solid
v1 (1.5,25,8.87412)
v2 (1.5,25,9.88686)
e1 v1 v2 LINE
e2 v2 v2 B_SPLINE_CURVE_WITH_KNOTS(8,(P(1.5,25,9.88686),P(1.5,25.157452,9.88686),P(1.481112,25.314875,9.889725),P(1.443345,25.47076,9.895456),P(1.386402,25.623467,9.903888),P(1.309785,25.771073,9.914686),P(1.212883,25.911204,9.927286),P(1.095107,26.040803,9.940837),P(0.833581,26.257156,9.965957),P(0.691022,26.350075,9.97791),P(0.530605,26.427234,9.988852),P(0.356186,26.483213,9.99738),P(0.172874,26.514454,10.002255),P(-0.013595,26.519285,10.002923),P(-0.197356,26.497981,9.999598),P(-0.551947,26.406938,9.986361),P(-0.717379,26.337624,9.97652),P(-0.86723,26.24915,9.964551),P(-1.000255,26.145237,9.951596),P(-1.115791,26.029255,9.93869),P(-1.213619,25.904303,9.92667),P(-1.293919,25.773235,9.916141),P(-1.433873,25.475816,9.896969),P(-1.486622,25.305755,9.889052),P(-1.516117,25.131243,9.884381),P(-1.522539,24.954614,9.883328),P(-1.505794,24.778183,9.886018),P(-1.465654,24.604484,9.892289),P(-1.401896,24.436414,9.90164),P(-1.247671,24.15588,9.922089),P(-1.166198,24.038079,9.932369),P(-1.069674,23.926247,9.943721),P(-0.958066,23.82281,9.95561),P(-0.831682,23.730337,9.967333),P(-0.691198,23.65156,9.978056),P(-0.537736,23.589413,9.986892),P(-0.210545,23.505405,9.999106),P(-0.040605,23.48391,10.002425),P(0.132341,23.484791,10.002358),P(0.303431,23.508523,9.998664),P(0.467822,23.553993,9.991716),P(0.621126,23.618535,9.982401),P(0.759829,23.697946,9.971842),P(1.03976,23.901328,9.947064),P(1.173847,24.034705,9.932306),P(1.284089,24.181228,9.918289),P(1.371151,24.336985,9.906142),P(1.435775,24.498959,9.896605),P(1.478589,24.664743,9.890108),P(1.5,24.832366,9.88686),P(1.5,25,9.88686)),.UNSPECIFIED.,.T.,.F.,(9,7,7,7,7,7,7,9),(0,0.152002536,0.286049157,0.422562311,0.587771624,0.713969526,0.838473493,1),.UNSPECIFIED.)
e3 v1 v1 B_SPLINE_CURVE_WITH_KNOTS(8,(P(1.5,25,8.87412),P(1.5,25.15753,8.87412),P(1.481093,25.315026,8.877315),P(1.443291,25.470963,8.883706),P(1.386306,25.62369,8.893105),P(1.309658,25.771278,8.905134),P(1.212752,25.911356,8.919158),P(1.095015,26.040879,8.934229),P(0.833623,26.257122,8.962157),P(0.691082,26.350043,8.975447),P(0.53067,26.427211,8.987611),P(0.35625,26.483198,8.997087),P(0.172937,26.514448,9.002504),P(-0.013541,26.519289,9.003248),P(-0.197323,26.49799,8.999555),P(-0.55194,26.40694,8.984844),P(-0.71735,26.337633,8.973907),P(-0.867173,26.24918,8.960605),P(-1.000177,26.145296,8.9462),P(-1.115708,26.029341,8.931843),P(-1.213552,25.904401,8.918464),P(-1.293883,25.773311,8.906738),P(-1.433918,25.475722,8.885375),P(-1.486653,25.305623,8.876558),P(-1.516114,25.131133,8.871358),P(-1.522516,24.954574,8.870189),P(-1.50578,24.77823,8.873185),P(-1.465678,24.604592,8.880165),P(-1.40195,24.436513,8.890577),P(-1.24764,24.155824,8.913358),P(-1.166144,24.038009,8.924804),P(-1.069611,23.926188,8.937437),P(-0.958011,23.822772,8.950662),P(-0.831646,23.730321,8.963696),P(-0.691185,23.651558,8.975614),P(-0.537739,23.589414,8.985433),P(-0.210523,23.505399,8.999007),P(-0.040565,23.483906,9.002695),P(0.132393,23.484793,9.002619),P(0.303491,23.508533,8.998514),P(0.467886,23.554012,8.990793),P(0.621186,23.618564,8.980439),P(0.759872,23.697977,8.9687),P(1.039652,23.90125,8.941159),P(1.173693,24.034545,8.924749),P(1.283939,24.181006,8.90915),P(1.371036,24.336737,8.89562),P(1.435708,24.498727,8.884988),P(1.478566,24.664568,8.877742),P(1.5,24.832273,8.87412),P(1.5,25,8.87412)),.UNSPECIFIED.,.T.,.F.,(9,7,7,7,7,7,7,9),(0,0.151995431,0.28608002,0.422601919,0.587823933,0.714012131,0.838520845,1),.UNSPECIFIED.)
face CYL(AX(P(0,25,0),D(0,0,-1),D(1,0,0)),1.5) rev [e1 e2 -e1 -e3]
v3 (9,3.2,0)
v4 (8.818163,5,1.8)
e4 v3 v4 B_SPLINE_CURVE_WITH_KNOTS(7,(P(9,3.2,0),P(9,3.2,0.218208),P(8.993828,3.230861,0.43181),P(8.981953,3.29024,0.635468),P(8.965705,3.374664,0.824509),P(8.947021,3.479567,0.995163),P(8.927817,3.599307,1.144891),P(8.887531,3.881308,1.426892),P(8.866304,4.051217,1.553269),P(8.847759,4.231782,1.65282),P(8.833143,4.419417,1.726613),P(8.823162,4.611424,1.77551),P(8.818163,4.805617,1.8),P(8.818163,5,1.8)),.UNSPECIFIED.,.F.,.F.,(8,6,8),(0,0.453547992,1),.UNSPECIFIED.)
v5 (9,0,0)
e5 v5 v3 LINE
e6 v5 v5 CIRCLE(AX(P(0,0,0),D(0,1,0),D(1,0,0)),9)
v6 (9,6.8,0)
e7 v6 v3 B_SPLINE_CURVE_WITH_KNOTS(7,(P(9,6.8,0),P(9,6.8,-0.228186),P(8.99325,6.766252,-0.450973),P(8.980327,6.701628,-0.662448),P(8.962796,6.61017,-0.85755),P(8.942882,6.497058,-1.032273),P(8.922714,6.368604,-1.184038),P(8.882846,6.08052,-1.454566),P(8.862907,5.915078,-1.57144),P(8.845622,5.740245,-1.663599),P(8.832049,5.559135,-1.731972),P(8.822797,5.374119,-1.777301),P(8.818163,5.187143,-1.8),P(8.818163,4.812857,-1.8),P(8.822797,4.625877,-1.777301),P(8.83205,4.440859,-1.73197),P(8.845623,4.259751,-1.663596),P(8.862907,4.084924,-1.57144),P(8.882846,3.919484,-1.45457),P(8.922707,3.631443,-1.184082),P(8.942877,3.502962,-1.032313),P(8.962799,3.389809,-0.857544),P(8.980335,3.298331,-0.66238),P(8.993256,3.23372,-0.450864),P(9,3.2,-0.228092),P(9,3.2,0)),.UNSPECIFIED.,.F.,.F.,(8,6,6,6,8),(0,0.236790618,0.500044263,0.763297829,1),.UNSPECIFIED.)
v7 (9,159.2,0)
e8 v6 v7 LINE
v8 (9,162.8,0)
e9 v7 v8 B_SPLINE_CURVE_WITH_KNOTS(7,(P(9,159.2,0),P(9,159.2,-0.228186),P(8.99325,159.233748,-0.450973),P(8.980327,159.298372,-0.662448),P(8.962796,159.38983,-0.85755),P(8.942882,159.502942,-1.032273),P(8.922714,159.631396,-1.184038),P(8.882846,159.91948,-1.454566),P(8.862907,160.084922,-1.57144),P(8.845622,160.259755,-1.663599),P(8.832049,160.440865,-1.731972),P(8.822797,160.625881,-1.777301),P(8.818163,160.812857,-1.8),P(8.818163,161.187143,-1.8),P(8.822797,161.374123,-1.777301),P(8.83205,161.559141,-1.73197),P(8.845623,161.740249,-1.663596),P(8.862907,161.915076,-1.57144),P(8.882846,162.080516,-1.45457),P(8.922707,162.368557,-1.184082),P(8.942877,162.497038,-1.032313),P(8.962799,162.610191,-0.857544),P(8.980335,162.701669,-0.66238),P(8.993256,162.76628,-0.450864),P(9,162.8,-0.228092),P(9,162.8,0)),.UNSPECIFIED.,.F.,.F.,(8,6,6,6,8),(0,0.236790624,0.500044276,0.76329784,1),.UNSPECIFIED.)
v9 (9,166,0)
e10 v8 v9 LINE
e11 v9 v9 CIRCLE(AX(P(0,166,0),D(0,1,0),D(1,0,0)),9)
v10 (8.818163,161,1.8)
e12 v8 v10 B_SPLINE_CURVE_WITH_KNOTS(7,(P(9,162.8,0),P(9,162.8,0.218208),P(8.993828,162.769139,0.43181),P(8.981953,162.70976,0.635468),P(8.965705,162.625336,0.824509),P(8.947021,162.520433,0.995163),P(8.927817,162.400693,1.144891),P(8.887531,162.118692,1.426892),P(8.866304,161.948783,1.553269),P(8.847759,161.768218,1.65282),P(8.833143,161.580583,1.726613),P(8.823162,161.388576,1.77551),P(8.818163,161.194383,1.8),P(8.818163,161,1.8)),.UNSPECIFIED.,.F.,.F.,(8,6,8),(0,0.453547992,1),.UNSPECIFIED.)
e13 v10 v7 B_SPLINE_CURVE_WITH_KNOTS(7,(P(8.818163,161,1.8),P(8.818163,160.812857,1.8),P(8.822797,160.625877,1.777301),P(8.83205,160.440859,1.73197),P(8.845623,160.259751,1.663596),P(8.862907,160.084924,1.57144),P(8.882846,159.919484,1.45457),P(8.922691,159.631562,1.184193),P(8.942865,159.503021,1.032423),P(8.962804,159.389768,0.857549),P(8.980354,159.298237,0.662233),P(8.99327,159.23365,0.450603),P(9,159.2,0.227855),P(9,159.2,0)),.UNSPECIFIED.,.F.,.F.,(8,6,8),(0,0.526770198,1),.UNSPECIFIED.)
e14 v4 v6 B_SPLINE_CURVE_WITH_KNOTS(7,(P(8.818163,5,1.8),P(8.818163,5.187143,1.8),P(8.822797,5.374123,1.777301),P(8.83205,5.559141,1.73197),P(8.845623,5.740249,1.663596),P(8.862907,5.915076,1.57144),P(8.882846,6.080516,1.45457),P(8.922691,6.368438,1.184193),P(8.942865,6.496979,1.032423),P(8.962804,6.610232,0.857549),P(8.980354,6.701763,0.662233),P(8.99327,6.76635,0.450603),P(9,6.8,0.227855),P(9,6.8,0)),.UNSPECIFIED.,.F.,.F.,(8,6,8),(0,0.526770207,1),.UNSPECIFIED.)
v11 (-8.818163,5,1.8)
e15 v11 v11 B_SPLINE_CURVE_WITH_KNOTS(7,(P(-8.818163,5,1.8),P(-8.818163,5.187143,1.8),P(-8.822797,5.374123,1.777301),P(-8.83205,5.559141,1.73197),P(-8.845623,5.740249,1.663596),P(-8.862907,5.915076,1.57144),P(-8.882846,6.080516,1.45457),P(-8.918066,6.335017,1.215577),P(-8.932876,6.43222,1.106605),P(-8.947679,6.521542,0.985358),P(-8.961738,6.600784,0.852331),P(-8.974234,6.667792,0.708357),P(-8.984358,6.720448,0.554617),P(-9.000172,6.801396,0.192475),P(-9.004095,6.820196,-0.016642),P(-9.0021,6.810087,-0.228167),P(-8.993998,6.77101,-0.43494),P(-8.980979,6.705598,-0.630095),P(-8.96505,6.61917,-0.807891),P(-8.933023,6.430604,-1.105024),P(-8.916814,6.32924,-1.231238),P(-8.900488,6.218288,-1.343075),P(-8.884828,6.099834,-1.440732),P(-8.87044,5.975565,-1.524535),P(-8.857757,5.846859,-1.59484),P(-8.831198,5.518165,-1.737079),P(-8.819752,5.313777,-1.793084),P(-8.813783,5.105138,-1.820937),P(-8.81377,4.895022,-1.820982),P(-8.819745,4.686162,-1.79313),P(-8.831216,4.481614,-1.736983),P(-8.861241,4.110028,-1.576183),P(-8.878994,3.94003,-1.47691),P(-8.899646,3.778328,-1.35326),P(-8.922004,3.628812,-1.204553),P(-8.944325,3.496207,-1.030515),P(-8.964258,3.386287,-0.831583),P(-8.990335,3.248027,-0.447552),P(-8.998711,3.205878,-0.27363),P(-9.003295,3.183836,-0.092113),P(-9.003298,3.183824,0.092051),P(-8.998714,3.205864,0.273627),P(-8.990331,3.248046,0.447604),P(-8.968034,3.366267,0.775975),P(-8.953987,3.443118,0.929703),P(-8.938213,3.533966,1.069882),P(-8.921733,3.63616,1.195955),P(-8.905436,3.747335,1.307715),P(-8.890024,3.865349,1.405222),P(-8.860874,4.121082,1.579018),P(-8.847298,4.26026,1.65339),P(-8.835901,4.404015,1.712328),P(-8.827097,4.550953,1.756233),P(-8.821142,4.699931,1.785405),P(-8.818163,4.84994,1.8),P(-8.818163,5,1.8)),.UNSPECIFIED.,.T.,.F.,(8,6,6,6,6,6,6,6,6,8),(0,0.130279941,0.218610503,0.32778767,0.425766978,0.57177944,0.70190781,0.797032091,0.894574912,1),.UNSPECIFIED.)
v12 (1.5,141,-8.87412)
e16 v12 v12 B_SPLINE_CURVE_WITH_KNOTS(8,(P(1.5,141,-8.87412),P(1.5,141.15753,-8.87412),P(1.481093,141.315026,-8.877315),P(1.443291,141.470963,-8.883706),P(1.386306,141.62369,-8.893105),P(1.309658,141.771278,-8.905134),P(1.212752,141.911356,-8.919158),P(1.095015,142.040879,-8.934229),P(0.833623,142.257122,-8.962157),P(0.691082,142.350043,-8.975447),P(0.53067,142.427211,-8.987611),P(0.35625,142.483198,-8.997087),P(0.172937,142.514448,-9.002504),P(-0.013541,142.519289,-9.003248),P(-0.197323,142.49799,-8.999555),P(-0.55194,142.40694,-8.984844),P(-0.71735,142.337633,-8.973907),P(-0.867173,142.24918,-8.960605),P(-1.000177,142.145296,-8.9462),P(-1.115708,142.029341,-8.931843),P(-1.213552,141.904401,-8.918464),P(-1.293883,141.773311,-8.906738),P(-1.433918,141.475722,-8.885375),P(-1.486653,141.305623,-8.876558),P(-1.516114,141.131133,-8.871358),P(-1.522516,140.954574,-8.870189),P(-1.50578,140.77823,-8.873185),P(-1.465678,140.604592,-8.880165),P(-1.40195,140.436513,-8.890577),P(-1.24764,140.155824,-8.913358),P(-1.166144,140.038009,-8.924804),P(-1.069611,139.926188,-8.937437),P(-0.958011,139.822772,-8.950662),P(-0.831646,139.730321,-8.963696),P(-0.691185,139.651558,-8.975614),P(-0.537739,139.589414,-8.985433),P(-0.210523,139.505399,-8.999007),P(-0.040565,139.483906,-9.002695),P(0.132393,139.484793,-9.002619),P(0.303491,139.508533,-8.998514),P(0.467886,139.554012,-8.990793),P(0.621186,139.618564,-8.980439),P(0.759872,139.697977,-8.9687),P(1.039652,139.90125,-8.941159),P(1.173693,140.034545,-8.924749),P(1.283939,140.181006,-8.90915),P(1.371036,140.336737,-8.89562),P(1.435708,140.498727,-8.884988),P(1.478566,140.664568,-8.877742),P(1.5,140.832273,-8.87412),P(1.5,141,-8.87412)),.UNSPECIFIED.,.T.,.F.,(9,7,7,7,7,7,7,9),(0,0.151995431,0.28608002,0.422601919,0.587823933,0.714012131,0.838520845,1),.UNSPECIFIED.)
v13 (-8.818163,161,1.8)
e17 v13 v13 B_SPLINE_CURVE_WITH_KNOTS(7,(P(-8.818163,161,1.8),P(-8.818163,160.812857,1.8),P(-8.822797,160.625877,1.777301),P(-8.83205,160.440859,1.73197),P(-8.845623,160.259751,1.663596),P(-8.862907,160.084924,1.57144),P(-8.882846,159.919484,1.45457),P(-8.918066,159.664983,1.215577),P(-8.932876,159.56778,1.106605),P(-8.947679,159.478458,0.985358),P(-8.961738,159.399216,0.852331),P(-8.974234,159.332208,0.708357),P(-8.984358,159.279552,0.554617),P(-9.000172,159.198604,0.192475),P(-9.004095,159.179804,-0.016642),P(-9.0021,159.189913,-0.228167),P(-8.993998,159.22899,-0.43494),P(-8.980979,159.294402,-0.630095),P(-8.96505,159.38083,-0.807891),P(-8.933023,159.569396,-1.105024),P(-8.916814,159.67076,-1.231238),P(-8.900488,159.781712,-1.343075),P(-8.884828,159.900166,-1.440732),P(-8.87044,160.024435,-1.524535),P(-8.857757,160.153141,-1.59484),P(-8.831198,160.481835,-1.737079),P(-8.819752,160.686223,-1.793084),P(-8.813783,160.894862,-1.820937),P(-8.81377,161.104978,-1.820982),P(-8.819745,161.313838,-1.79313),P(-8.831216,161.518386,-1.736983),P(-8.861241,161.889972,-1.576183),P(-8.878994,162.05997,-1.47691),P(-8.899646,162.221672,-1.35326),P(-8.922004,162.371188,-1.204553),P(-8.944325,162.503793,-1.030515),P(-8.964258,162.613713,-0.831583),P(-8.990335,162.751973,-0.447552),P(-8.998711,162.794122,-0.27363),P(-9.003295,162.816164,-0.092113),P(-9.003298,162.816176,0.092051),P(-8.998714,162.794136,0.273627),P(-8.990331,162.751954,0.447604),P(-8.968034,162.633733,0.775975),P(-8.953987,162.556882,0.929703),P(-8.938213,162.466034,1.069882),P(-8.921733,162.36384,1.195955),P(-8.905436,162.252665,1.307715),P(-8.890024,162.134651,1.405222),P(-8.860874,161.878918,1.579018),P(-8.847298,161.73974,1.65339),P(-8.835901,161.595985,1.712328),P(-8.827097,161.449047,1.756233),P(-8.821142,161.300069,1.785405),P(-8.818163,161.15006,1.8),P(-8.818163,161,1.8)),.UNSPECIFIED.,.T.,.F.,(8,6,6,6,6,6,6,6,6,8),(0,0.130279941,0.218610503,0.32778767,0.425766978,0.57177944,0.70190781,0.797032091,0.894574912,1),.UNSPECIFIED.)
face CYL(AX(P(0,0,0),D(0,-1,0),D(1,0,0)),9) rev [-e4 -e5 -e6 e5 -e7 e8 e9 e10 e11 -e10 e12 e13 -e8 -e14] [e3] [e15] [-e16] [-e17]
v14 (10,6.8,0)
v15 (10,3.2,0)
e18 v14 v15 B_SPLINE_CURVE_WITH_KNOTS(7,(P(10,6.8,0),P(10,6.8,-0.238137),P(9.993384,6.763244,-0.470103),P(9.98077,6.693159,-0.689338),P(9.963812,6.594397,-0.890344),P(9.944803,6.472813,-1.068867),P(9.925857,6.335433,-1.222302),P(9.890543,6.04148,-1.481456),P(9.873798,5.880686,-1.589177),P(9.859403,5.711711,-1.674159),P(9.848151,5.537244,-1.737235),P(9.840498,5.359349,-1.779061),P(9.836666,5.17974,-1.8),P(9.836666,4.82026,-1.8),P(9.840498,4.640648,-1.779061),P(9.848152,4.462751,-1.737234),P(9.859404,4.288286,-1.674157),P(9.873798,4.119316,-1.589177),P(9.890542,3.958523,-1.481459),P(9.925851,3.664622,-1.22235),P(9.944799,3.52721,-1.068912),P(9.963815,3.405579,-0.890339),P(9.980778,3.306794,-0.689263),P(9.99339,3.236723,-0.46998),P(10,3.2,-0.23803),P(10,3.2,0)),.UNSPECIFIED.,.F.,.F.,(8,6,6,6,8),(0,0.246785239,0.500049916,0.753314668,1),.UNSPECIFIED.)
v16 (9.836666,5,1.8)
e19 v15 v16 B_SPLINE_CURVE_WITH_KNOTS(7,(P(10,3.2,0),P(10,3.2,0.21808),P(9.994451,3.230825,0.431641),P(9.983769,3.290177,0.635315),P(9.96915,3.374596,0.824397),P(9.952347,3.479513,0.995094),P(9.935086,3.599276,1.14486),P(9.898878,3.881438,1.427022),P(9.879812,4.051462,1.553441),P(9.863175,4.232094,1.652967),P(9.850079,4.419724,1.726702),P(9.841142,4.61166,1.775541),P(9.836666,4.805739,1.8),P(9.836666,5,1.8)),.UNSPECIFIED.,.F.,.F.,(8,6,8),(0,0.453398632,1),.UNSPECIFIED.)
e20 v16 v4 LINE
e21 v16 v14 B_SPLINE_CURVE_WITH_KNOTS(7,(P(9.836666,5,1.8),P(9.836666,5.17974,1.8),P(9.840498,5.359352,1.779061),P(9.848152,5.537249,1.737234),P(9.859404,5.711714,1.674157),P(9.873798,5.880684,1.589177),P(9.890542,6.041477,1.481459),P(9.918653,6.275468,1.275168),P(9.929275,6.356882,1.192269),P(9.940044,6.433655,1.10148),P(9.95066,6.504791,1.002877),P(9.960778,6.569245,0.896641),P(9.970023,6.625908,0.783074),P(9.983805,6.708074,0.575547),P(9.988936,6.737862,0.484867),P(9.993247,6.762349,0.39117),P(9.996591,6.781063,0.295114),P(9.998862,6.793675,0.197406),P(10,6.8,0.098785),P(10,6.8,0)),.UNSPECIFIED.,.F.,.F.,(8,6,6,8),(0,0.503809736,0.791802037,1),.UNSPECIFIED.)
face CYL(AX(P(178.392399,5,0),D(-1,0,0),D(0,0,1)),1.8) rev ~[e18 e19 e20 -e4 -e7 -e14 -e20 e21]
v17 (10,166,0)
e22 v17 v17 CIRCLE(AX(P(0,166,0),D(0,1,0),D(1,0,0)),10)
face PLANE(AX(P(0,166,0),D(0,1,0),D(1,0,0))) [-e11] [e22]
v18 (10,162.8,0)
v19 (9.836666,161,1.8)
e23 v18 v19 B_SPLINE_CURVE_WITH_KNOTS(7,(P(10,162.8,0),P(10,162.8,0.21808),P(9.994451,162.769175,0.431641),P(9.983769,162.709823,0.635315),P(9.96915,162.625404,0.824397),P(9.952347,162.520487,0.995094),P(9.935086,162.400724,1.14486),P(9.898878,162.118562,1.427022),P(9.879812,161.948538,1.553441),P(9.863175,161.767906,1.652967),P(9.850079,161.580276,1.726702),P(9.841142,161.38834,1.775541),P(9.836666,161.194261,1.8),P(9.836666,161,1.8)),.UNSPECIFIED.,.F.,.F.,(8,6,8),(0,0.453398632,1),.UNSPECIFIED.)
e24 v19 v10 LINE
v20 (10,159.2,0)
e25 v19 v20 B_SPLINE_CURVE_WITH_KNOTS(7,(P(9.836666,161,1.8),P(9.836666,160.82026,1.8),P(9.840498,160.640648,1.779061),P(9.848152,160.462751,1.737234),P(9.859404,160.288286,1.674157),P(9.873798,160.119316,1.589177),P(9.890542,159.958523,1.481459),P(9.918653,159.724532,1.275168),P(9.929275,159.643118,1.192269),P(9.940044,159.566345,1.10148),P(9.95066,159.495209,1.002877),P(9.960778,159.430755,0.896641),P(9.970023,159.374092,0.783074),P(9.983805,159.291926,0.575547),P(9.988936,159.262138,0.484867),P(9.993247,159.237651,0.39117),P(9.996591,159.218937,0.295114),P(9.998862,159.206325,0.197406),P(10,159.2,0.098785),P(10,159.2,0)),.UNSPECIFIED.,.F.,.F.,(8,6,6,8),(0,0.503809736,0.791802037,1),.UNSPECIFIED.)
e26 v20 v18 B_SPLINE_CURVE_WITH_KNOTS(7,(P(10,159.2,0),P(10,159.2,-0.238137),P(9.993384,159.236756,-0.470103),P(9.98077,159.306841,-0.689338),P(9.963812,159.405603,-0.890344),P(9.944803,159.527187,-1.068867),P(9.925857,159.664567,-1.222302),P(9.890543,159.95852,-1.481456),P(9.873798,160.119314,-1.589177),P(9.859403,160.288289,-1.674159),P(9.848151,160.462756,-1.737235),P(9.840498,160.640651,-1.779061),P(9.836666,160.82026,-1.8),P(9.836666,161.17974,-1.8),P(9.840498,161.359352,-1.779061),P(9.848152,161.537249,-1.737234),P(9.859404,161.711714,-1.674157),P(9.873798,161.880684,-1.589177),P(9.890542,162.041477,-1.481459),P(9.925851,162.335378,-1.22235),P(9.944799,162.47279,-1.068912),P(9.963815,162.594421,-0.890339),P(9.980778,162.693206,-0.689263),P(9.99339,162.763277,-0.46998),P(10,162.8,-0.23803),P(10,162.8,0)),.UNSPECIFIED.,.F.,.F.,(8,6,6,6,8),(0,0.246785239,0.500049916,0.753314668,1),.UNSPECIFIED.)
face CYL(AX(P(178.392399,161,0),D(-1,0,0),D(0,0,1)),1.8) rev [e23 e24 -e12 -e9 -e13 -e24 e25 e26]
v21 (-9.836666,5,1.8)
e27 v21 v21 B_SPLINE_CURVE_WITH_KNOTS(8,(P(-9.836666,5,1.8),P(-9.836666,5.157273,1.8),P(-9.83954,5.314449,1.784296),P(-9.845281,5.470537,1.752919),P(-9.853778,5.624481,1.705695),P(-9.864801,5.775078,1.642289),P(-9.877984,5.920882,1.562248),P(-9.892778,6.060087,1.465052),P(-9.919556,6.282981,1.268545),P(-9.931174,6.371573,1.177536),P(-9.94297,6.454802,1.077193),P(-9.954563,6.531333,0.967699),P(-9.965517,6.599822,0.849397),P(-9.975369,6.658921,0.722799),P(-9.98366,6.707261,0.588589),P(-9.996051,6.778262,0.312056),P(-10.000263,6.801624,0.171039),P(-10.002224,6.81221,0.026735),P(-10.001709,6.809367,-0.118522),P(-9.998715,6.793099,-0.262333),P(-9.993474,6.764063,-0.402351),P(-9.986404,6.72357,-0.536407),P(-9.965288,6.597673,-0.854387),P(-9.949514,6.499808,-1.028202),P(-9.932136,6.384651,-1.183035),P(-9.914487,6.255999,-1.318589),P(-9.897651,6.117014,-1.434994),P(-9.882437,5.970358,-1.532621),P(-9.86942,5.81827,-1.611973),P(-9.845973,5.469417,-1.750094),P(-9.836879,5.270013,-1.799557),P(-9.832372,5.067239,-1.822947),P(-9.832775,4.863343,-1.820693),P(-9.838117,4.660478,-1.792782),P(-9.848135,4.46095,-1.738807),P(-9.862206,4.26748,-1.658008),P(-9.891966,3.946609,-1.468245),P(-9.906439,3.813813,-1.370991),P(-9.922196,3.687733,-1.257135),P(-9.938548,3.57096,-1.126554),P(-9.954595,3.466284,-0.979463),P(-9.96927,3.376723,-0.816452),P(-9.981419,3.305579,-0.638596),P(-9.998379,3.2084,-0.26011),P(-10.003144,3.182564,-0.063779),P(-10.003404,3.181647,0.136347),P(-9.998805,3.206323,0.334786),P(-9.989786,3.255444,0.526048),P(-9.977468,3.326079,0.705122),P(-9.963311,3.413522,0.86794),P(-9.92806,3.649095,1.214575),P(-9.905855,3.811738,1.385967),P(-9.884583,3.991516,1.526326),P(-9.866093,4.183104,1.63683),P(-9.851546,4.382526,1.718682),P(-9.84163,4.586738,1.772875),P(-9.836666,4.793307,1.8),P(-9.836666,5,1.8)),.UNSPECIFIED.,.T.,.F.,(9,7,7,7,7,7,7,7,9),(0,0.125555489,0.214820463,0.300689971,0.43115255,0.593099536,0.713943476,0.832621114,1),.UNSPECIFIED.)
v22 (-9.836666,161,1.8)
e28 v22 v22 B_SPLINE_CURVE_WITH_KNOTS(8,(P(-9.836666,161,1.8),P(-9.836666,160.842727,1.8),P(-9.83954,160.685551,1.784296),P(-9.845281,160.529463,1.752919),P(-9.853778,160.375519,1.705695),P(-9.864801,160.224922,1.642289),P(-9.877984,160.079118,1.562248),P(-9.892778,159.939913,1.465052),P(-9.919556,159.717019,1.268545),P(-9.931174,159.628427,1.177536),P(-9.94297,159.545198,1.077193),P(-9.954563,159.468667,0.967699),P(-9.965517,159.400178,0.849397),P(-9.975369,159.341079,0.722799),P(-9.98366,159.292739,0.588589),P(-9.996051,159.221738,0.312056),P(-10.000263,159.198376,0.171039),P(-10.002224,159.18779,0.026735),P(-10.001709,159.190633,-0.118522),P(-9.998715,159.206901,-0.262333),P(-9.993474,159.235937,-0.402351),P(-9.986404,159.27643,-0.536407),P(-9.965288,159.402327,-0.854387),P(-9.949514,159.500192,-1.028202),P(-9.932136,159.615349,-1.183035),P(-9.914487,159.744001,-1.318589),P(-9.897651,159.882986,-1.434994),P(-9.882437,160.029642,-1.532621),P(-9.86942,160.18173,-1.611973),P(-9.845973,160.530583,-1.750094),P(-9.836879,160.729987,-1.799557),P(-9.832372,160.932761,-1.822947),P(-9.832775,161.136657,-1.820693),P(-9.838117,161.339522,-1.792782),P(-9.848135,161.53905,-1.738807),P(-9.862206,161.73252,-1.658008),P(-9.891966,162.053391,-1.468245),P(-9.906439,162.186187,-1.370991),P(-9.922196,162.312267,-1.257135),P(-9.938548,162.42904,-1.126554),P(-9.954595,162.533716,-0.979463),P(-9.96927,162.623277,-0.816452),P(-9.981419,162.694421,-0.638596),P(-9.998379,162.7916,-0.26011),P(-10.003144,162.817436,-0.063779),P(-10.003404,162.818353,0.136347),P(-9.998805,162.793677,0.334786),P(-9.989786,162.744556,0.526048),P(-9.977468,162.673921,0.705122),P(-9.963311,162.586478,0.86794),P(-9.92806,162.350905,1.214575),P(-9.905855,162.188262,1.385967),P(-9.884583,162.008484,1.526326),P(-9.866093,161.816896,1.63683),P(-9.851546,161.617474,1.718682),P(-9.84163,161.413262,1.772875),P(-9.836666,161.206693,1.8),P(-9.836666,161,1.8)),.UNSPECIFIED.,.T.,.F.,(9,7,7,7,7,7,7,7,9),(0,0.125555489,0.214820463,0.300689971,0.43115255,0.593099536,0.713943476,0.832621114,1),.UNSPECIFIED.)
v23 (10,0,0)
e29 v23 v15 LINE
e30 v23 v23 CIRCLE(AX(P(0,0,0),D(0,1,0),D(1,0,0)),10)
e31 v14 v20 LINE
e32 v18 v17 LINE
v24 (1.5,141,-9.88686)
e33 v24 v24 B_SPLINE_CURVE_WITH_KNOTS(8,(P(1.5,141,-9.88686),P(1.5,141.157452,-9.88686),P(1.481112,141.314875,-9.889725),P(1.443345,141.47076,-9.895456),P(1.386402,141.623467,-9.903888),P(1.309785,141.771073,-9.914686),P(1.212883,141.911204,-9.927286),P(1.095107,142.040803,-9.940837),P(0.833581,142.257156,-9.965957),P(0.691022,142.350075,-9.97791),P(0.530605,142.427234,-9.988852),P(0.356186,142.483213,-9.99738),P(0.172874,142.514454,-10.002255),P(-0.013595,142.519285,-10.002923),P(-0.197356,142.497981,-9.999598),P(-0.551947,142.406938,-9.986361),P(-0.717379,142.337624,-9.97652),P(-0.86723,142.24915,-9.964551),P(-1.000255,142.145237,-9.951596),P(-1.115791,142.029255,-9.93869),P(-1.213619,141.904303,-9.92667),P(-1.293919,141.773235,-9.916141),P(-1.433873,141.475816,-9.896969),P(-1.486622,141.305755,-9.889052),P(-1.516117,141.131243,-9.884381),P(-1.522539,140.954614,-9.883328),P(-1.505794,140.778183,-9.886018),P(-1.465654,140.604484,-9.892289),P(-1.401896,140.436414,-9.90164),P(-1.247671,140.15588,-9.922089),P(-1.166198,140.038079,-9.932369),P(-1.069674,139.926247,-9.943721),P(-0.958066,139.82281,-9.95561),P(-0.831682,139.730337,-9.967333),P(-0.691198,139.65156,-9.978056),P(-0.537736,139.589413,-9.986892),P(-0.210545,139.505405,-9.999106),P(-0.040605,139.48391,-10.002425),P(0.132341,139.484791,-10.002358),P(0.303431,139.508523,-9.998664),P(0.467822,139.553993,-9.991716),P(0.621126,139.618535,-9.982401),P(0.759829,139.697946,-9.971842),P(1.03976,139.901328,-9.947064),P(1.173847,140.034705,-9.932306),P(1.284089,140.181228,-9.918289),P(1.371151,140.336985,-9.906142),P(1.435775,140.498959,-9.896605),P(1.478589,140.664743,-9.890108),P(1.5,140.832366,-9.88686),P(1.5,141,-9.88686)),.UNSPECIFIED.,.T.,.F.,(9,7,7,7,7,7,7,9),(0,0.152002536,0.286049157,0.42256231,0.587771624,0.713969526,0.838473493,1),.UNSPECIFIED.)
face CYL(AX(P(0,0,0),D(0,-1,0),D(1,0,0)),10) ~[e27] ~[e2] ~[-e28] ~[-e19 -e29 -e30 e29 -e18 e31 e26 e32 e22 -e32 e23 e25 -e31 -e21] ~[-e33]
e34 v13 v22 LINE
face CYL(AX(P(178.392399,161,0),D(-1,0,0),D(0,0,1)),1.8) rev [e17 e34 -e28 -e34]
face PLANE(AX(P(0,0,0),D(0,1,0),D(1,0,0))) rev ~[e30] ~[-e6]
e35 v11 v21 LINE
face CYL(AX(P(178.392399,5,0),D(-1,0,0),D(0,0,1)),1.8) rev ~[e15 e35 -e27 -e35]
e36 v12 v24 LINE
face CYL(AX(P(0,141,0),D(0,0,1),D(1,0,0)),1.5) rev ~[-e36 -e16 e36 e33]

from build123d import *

# Parameters (mm, degrees)
SKETCH1_R            = 10
SKETCH1_R_2          = 9
BOSS_EXTRUDE1_DEPTH  = 166
M3_CLEARANCE_HOLE1_D = 3.6
CUT_EXTRUDE1_REACH   = 168.601
SKETCH7_R            = 1.5
SKETCH8_R            = 1.5
CUT_EXTRUDE2_DEPTH   = 167.601320639


with BuildPart() as part:
    # Sketch1 → Boss-Extrude1 (new body)
    with BuildSketch(Plane(origin=(0, 0, 0), x_dir=(1, 0, 0), z_dir=(0, 1, 0))):
        Circle(SKETCH1_R)
        Circle(SKETCH1_R_2, mode=Mode.SUBTRACT)
    extrude(amount=BOSS_EXTRUDE1_DEPTH)

    # M3 Clearance Hole1 (through all)
    with Locations(Plane(origin=(10, 0, 0), x_dir=(0, 0, -1), z_dir=(1, 0, 0))):
        with Locations((0, 5)):
            m3_clearance_hole1 = Hole(M3_CLEARANCE_HOLE1_D / 2)

    # Mirror1: M3 Clearance Hole1 across plane
    add(m3_clearance_hole1.mirror(Plane.ZX.offset(83)), mode=Mode.SUBTRACT)

    # Sketch7 → Cut-Extrude1 (cut, up to next)
    with BuildSketch(Plane.XY, mode=Mode.PRIVATE) as cut_extrude1_sk1:
        with Locations((0, 25)):
            Circle(SKETCH7_R)
    cut_extrude1_tool1 = extrude(cut_extrude1_sk1.sketch, amount=CUT_EXTRUDE1_REACH, mode=Mode.PRIVATE) & part.part
    add(cut_extrude1_tool1.solids().sort_by_distance((0, 25, 0))[0], mode=Mode.SUBTRACT)

    # Sketch8 → Cut-Extrude2 (cut, through all)
    with BuildSketch(Plane.XY):
        with Locations((0, 141)):
            Circle(SKETCH8_R)
    extrude(amount=-CUT_EXTRUDE2_DEPTH, mode=Mode.SUBTRACT)


solid = part.part
